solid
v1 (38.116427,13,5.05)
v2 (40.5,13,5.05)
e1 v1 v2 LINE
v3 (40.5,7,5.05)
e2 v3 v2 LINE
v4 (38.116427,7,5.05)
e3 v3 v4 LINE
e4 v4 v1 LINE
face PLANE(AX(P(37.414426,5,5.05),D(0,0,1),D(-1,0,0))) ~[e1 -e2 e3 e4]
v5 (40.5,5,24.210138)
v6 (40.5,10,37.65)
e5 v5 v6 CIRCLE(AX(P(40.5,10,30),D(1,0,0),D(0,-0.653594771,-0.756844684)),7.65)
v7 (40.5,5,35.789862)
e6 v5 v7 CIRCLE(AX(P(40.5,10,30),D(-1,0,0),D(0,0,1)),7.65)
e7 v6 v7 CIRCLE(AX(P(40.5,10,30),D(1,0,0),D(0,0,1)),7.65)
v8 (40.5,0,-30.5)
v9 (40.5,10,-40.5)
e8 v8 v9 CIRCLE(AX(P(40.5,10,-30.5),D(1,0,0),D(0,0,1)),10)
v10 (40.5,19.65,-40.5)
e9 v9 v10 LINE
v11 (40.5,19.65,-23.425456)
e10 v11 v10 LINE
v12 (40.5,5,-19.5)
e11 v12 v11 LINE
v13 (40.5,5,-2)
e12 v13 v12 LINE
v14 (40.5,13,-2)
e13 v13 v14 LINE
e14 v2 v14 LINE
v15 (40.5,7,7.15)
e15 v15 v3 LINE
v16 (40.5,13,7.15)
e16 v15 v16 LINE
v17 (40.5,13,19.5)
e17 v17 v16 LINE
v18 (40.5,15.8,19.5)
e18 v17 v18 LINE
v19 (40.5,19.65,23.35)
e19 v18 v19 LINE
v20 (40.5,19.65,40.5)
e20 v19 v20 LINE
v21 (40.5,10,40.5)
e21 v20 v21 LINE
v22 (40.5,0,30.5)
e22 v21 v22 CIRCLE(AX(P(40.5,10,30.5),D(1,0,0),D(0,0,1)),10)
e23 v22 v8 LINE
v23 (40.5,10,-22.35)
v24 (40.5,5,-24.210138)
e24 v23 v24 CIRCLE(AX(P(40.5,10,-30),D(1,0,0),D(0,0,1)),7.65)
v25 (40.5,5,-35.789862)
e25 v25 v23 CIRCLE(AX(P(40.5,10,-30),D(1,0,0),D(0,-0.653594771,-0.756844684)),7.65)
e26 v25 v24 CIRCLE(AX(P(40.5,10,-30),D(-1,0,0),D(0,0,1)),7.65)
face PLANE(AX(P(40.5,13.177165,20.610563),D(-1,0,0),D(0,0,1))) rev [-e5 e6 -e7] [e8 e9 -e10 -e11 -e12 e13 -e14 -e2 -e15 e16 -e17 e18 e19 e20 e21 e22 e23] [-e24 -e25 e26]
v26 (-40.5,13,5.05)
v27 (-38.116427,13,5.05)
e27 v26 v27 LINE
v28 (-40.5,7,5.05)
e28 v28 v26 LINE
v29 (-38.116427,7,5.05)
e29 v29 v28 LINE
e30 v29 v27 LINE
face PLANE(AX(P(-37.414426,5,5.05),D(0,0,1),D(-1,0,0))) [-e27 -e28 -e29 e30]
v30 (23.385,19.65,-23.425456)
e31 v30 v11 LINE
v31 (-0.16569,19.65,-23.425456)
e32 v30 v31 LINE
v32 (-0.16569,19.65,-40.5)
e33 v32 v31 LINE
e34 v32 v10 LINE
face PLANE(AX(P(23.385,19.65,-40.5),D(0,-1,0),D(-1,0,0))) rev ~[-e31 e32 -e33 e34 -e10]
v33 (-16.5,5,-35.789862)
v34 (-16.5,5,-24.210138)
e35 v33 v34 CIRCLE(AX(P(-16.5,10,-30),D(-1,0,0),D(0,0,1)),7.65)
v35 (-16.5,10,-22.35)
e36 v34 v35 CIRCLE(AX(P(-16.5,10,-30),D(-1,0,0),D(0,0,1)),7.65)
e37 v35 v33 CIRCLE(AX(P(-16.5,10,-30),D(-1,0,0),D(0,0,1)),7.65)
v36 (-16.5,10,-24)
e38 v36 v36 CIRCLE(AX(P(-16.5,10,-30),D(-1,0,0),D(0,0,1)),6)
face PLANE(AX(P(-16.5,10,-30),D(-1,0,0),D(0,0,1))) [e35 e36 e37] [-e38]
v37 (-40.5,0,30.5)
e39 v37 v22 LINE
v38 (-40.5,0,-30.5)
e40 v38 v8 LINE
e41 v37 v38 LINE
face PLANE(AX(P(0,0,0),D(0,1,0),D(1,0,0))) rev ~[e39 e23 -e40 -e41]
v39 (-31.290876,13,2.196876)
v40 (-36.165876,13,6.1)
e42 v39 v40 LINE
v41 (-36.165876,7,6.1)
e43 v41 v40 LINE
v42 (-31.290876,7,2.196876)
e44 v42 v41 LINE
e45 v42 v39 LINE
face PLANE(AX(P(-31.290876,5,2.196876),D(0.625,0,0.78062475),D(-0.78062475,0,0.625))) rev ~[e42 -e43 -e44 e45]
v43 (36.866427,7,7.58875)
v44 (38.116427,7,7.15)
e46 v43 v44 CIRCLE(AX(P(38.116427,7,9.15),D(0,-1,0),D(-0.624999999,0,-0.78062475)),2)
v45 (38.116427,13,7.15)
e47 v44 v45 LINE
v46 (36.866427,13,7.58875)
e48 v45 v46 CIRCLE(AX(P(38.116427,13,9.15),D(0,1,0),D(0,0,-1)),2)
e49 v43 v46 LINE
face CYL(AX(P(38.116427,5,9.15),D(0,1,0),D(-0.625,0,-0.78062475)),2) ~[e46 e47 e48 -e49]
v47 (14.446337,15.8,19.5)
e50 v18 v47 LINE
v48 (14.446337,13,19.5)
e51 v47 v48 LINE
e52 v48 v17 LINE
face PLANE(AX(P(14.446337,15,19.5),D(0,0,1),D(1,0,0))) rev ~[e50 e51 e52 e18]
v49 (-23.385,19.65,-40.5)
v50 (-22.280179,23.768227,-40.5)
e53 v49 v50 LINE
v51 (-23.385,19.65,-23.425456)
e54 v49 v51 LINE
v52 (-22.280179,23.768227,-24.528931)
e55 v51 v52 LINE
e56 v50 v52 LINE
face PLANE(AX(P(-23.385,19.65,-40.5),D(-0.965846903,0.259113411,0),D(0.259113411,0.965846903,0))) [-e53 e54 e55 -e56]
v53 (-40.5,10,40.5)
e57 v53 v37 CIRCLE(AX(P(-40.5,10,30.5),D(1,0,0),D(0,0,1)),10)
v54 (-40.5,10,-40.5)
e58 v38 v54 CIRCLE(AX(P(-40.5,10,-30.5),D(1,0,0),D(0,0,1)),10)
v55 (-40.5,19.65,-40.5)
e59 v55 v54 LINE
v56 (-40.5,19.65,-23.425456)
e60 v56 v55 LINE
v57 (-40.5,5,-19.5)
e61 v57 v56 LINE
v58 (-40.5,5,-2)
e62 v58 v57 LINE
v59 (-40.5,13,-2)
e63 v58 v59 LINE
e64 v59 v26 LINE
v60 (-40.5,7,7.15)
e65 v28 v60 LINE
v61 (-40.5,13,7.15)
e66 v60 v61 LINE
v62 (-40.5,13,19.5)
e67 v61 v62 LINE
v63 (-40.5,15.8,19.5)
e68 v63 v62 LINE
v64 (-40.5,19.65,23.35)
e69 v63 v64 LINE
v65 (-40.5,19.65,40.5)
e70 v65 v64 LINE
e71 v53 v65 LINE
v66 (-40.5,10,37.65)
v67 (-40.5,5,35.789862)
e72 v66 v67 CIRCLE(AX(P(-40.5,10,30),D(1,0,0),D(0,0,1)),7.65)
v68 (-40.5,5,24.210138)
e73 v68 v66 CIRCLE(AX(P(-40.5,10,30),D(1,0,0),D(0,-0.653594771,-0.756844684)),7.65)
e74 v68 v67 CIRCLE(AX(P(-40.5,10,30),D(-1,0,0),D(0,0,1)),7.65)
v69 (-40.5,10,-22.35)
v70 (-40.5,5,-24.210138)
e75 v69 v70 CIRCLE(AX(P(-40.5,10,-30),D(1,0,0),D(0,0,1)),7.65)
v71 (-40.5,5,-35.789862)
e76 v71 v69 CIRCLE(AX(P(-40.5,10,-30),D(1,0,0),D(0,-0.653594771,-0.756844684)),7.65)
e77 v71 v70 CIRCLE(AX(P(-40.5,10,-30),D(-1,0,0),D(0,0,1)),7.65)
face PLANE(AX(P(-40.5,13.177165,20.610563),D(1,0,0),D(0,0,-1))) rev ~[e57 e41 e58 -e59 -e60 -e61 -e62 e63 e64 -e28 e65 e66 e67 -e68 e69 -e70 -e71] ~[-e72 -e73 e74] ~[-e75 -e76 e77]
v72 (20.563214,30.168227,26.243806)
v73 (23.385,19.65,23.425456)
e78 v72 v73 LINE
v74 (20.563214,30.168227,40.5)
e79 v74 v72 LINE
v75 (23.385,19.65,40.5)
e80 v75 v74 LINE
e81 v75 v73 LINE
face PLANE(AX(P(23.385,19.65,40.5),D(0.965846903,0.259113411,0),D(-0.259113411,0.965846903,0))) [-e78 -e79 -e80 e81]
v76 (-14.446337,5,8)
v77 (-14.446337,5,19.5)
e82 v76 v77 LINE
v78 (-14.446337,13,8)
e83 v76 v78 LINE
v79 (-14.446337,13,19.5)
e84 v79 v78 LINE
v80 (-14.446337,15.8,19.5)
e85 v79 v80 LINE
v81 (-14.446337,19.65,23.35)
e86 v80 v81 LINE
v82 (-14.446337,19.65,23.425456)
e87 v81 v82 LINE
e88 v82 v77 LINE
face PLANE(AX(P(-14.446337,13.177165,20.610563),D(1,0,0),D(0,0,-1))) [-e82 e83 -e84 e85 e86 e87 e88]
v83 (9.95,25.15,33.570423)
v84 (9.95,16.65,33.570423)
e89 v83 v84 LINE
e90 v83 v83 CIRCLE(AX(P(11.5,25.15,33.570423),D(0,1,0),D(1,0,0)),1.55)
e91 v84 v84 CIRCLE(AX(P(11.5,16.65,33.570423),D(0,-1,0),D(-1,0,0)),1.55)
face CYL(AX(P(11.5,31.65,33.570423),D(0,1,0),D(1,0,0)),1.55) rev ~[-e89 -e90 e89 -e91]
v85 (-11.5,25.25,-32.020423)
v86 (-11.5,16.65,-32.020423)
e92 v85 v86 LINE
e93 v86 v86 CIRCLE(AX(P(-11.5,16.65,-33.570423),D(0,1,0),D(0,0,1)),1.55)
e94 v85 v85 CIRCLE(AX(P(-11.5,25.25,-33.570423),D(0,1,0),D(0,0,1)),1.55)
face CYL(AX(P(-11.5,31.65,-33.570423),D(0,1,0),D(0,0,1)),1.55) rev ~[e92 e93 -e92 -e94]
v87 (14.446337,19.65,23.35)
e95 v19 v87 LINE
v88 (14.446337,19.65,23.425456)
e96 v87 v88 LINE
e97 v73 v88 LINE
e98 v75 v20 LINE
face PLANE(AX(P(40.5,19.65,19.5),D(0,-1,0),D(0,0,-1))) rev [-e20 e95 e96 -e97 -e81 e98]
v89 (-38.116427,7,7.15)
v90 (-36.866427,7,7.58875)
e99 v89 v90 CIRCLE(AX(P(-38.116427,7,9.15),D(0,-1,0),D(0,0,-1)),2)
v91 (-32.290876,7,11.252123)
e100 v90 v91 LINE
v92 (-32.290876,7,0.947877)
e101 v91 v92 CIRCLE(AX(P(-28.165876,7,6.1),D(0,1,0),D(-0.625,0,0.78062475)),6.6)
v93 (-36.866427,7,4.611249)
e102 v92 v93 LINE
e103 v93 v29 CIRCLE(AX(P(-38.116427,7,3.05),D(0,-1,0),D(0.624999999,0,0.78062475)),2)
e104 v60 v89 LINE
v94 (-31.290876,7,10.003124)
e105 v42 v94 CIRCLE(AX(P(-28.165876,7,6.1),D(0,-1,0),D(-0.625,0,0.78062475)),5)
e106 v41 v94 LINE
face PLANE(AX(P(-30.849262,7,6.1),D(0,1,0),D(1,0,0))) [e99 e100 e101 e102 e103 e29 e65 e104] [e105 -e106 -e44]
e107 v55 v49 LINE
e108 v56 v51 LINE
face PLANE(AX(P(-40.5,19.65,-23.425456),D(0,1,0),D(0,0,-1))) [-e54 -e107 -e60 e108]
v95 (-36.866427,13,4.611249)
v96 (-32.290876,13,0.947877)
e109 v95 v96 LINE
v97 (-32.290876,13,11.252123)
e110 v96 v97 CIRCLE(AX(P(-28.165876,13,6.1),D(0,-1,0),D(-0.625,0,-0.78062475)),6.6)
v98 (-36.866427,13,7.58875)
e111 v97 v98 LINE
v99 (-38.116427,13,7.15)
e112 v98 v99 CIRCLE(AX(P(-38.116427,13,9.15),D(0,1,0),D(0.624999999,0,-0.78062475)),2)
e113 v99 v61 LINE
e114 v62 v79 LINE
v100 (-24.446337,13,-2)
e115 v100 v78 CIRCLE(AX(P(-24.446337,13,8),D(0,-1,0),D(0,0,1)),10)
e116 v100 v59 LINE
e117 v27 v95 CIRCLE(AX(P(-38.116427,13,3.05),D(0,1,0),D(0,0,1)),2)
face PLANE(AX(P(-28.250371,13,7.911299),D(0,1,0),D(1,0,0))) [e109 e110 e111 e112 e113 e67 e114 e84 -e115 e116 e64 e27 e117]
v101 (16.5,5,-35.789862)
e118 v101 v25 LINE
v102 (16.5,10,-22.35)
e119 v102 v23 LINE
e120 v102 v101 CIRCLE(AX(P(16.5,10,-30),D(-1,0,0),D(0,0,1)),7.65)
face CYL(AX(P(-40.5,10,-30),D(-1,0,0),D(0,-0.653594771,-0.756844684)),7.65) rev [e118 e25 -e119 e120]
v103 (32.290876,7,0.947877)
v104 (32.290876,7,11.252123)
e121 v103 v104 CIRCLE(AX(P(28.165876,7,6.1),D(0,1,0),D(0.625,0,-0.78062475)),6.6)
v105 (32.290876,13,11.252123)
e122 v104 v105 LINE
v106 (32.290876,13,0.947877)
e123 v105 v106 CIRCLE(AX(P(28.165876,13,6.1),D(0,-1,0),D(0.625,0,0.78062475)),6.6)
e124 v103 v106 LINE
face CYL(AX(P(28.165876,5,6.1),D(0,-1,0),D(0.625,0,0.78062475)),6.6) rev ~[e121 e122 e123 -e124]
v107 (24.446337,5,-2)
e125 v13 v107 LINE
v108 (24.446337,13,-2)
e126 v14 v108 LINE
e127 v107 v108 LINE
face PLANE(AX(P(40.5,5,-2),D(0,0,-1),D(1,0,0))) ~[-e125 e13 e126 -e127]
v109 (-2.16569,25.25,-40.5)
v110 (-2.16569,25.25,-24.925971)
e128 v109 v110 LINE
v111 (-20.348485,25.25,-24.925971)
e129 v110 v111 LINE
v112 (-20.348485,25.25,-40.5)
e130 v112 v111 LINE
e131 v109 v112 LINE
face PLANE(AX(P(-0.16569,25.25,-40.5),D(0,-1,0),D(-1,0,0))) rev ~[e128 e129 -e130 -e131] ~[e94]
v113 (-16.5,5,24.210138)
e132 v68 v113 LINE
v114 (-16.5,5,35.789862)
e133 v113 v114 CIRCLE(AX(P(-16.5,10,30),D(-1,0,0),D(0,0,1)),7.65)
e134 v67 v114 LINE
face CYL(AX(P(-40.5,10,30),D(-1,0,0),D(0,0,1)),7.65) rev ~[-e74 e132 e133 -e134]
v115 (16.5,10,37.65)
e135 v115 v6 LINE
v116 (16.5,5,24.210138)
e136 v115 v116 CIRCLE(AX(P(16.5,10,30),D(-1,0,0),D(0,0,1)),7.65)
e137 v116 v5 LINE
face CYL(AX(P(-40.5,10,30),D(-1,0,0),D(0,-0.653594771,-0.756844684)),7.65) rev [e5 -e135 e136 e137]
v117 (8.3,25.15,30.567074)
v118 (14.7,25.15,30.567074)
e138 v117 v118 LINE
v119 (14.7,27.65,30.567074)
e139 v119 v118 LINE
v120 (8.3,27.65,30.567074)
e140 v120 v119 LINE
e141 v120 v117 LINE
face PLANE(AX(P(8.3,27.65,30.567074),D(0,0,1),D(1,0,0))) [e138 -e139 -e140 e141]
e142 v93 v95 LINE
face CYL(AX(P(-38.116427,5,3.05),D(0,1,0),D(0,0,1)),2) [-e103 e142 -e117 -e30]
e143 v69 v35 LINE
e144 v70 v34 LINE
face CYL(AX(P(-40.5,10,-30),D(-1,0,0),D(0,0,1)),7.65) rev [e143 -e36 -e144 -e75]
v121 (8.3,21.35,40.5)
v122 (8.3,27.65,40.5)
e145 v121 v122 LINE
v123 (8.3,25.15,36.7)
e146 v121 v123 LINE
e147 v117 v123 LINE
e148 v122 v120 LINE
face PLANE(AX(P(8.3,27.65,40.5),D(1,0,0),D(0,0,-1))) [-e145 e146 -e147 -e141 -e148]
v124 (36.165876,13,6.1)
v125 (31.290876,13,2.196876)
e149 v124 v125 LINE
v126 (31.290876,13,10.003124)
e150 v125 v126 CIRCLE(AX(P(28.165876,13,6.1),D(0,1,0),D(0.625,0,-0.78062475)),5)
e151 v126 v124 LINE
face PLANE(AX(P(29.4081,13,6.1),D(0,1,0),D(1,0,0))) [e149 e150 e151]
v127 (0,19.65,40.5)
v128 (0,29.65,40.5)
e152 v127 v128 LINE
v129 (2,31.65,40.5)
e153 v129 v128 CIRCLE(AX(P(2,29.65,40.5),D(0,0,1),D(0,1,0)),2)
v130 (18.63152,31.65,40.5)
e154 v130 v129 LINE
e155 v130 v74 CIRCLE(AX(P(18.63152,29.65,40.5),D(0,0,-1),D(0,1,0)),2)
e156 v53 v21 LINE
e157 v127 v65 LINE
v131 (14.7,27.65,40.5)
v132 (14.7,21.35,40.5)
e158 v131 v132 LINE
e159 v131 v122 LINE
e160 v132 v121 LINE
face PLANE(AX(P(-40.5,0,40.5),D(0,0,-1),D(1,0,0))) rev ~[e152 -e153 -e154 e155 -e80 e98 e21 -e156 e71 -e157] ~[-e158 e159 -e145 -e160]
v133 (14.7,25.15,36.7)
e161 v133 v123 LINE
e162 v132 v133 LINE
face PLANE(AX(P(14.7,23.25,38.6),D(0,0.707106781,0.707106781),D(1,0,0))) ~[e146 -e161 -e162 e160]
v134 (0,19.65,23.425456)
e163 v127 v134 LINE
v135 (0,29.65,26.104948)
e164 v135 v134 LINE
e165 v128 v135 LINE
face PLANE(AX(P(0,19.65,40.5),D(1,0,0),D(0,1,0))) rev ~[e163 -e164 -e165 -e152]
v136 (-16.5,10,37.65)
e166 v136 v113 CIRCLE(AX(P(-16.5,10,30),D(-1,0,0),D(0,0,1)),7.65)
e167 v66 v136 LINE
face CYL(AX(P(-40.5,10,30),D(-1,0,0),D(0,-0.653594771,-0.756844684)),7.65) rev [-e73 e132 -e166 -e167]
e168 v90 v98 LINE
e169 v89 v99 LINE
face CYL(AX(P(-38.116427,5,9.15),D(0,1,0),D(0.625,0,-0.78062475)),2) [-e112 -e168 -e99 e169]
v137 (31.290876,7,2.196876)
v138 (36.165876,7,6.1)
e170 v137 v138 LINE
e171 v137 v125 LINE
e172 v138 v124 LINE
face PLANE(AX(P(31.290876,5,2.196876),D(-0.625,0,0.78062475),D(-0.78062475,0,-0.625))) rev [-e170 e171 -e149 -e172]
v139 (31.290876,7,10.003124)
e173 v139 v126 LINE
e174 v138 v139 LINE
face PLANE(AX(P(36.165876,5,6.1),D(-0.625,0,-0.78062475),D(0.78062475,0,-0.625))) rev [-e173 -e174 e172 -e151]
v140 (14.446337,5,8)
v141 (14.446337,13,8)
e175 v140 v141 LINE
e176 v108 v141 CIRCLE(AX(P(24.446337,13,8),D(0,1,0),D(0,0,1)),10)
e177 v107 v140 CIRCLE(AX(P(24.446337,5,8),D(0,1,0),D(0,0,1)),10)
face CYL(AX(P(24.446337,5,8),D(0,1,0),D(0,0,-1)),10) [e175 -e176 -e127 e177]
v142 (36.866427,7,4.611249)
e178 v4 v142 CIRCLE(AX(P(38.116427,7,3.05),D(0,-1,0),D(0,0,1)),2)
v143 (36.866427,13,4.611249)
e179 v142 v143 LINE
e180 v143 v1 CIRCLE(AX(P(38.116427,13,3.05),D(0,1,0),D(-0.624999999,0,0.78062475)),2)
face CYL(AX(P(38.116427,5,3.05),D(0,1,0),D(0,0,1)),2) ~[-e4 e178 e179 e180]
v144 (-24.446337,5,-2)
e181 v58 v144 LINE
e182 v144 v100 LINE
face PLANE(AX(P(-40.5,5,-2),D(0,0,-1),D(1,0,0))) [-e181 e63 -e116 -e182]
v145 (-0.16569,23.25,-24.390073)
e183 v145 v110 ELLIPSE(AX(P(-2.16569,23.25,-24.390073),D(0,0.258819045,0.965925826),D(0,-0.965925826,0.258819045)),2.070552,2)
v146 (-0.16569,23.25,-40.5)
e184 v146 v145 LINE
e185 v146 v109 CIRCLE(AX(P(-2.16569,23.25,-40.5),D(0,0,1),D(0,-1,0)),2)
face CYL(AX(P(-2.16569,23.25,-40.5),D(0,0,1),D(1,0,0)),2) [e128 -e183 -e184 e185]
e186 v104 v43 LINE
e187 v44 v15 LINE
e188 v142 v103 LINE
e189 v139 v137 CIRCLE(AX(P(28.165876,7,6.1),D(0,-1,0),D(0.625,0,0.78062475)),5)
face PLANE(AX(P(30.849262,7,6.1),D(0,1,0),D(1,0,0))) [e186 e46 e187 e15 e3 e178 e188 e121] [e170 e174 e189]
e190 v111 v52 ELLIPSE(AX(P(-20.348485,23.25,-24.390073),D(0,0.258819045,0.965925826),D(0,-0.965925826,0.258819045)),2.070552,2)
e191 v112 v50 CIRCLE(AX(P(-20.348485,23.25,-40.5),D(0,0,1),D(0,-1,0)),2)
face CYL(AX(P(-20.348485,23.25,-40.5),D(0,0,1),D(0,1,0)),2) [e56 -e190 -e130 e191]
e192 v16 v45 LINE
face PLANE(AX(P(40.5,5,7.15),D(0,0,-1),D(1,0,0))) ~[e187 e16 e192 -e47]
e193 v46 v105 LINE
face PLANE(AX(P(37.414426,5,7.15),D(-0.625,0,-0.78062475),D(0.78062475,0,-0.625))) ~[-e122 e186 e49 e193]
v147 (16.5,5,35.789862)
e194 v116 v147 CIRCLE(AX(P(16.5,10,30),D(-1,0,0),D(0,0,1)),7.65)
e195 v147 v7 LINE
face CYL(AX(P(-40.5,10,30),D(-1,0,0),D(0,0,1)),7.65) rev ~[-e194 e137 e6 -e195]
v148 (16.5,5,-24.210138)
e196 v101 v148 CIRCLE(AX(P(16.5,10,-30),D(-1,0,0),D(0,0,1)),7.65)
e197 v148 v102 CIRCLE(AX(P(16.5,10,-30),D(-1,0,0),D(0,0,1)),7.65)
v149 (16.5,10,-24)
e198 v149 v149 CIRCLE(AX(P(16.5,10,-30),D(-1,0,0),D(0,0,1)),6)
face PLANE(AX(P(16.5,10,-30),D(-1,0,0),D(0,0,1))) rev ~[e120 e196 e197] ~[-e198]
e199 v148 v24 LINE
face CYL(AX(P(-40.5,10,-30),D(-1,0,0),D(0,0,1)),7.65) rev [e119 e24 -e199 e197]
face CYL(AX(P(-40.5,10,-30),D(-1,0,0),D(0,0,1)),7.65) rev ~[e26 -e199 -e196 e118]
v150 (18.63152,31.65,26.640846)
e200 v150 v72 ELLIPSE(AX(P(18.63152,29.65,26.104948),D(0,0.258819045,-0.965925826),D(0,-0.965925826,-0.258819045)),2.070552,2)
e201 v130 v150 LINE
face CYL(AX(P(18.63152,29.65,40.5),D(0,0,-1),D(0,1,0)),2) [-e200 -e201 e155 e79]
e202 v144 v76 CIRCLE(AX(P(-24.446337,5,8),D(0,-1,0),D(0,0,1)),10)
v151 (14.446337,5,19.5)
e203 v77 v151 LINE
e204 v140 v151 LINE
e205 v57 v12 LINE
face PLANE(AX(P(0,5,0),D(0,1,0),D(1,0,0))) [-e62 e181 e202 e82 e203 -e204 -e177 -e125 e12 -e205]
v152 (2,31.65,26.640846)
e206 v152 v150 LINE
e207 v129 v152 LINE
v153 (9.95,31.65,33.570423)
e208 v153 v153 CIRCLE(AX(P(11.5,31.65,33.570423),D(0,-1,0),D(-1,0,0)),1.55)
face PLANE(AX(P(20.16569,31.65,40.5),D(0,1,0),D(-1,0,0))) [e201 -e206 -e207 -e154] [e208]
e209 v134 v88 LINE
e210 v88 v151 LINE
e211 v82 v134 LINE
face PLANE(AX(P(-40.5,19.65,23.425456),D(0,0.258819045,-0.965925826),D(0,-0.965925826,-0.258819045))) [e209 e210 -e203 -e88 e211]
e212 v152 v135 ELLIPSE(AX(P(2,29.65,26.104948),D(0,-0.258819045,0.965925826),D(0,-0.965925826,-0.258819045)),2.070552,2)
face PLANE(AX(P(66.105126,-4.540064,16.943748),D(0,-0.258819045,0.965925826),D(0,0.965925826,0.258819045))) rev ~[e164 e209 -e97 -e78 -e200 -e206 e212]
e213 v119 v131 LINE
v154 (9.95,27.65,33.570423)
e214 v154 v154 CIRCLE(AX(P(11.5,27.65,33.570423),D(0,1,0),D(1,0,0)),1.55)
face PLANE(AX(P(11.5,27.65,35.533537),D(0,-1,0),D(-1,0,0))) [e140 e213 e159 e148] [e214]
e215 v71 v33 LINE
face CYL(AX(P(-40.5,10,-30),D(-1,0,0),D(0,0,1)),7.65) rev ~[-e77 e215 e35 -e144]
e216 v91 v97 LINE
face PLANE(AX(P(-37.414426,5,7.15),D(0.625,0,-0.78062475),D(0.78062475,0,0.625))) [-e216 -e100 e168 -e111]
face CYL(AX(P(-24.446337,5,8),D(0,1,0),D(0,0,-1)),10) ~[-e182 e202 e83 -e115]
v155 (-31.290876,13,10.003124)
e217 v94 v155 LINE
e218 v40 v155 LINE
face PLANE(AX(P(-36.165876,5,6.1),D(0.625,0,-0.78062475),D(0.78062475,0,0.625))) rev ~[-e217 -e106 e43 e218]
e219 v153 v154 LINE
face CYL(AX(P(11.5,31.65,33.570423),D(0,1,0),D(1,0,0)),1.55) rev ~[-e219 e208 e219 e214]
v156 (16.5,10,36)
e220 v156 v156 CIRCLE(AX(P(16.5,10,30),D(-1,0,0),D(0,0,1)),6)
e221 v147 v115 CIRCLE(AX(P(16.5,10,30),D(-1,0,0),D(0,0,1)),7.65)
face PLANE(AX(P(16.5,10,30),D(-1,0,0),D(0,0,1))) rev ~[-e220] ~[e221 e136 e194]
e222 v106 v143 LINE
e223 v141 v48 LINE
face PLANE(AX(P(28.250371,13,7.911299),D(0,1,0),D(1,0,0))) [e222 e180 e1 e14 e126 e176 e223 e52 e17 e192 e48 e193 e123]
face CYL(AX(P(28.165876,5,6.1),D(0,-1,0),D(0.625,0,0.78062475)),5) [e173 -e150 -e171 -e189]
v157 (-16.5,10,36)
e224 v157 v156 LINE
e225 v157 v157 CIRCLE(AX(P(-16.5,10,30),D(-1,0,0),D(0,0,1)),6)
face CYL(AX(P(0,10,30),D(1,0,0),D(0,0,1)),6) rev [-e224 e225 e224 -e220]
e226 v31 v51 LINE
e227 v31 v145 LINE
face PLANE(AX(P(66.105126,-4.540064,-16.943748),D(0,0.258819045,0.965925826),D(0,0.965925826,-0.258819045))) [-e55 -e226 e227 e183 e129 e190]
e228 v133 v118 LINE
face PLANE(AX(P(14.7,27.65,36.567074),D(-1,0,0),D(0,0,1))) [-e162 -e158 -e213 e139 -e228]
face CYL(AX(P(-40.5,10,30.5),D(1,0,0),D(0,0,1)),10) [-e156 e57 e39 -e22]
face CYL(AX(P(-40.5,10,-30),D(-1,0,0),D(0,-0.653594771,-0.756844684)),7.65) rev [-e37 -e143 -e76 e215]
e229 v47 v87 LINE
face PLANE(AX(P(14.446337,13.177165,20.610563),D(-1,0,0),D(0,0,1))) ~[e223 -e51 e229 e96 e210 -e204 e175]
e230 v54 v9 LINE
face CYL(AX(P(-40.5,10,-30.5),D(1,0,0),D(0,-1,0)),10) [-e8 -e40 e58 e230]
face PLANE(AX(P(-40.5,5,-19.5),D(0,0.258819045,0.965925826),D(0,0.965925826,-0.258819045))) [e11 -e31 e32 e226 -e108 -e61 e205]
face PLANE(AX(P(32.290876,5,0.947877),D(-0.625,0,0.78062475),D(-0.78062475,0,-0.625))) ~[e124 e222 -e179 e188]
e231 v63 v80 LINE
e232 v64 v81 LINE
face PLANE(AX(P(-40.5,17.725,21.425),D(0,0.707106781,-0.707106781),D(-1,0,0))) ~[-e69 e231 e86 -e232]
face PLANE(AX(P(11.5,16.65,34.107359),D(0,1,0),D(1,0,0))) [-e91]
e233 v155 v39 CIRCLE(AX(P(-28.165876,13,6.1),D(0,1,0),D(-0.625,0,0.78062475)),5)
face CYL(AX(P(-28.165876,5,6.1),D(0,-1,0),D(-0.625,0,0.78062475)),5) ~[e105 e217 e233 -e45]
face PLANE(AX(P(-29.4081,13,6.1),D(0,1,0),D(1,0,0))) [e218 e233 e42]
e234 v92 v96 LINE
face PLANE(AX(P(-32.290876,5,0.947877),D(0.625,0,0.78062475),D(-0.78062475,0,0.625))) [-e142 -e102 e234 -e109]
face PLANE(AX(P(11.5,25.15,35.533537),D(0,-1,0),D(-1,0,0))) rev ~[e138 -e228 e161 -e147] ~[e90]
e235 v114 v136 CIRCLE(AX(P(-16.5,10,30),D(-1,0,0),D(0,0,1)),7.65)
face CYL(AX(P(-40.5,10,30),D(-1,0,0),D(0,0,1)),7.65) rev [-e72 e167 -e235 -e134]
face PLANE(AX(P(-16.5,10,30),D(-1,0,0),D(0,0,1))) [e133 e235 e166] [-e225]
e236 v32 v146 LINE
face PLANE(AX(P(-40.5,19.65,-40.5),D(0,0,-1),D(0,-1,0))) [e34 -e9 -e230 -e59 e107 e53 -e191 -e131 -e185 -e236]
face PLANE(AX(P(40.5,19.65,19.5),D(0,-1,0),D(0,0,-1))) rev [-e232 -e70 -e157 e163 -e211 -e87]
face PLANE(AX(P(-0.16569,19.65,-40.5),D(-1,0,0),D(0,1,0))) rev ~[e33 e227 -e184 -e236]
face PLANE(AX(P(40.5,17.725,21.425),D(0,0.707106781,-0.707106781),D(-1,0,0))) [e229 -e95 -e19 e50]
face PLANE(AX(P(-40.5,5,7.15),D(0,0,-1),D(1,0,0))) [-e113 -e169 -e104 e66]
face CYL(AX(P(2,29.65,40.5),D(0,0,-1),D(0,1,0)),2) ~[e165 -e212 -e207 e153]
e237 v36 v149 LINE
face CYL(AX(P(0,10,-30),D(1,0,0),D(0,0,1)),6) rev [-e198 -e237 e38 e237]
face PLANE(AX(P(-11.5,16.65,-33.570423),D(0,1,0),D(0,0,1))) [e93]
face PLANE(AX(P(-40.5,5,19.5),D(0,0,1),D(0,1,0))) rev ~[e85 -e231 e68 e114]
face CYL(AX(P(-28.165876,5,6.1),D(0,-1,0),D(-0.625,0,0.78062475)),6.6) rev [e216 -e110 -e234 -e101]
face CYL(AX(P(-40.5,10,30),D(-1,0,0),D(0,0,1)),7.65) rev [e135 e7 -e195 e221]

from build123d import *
from build123d.topology import SkipClean

# Parameters (mm, degrees)
SKETCH1_W                = 81
SKETCH1_H                = 81
BOSS_EXTRUDE1_DEPTH      = 5
BOSS_EXTRUDE3_DEPTH      = 81
SKETCH4_R                = 7.65
CUT_EXTRUDE2_DEPTH       = 93.668077028
BOSS_EXTRUDE4_DEPTH      = 10
BOSS_EXTRUDE6_DEPTH      = 26.053662708
CHAMFER1_SIZE            = 3.85
CHAMFER1_OF_MIRROR1_SIZE = 3.85
FILLET2_R                = 2
FILLET3_R                = 10
SKETCH8_R                = 7.65
SKETCH8_R_2              = 6
BOSS_EXTRUDE7_DEPTH      = 16.5
BOSS_EXTRUDE8_REACH      = 94.668
BOSS_EXTRUDE9_REACH      = 97.932
SKETCH11_R               = 1.55
CUT_EXTRUDE3_DEPTH       = 15
CUT_EXTRUDE4_DEPTH       = 2
BOSS_EXTRUDE10_START     = 2
BOSS_EXTRUDE10_DEPTH     = 2
FILLET4_R                = 10
CUT_EXTRUDE5_REACH       = 97.932
FILLET5_R                = 2
FILLET6_R                = 2
FILLET7_R                = 2
CUT_EXTRUDE6_DEPTH       = 2.5
CHAMFER2_SIZE            = 3.8
CUT_EXTRUDE7_REACH       = 97.932
SKETCH17_W               = 23.385
SKETCH17_H               = 12
CUT_EXTRUDE8_REACH       = 97.932
SKETCH19_W               = 23.550689655
SKETCH19_H               = 12
FILLET8_R                = 2


with BuildPart() as part:
    # Sketch1 → Boss-Extrude1 (new body)
    with BuildSketch(Plane(origin=(0, 0, 0), x_dir=(1, 0, 0), z_dir=(0, 1, 0))):
        Rectangle(SKETCH1_W, SKETCH1_H)
    extrude(amount=BOSS_EXTRUDE1_DEPTH)

    # Sketch2 → Boss-Extrude3 (add)
    with BuildSketch(Plane.ZY.offset(40.5)):
        with BuildLine():
            Line((-24.210138171, 5), (-19.5, 5))
            Line((-19.5, 5), (-23.425455669, 19.65))
            Line((-23.425455669, 19.65), (-40.5, 19.65))
            Line((-40.5, 19.65), (-40.5, 5))
            Line((-40.5, 5), (-35.789861829, 5))
            ThreePointArc((-35.789861829, 5), (-32.667401077, 17.169900383), (-22.35, 10))
            ThreePointArc((-22.35, 10), (-22.830099617, 7.332598923), (-24.210138171, 5))
        make_face()
        with BuildLine():
            Line((23.425455669, 19.65), (19.5, 5))
            Line((19.5, 5), (24.210138171, 5))
            ThreePointArc((24.210138171, 5), (27.332598923, 17.169900383), (37.65, 10))
            ThreePointArc((37.65, 10), (37.169900383, 7.332598923), (35.789861829, 5))
            Line((35.789861829, 5), (40.5, 5))
            Line((40.5, 5), (40.5, 19.65))
            Line((40.5, 19.65), (23.425455669, 19.65))
        make_face()
    extrude(amount=-BOSS_EXTRUDE3_DEPTH)

    # Sketch4 → Cut-Extrude2 (cut, through all)
    with SkipClean():  # the faces are left unmerged after this step: merging them gives an invalid solid
        with BuildSketch(Plane.ZY.offset(40.5)):
            with Locations((-30, 10)):
                Circle(SKETCH4_R)
            with Locations((30, 10)):
                Circle(SKETCH4_R)
        extrude(amount=-CUT_EXTRUDE2_DEPTH, mode=Mode.SUBTRACT)

    # Sketch6 → Boss-Extrude4 (add)
    with SkipClean():  # the faces are left unmerged after this step: merging them gives an invalid solid
        with BuildSketch(Plane(origin=(0, 5, 0), x_dir=(1, 0, 0), z_dir=(0, 1, 0))):
            with BuildLine():
                Line((-32.290875523, -0.947876651), (-37.414425943, -5.05))
                Line((-37.414425943, -5.05), (-40.5, -5.05))
                Line((-40.5, -5.05), (-40.5, 2))
                Line((-40.5, 2), (-14.446337292, 2))
                Line((-14.446337292, 2), (-14.446337292, -19.5))
                Line((-14.446337292, -19.5), (-40.5, -19.5))
                Line((-40.5, -19.5), (-40.5, -7.15))
                Line((-40.5, -7.15), (-37.414425943, -7.15))
                Line((-37.414425943, -7.15), (-32.290875523, -11.252123349))
                ThreePointArc((-32.290875523, -11.252123349), (-21.565875523, -6.1), (-32.290875523, -0.947876651))
            make_face()
            with BuildLine():
                Line((-31.290875523, -2.196876251), (-36.165875523, -6.1))
                Line((-36.165875523, -6.1), (-31.290875523, -10.003123749))
                ThreePointArc((-31.290875523, -10.003123749), (-23.165875523, -6.1), (-31.290875523, -2.196876251))
            make_face()
        boss_extrude4 = extrude(amount=BOSS_EXTRUDE4_DEPTH)

    # Sketch7 → Boss-Extrude6 (add)
    with SkipClean():  # the faces are left unmerged after this step: merging them gives an invalid solid
        with BuildSketch(Plane.ZY.offset(40.5)):
            Polygon((19.5, 5), (19.5, 19.65), (23.425455669, 19.65), align=None)
        boss_extrude6 = extrude(amount=-BOSS_EXTRUDE6_DEPTH)

    # Chamfer1
    chamfer1_edges = [part.edges().sort_by_distance(p)[0] for p in [
        (-27.473168646, 19.65, 19.5),
    ]]
    chamfer(chamfer1_edges, length=CHAMFER1_SIZE)

    # Mirror1: Boss-Extrude4, Boss-Extrude6 across plane
    with SkipClean():  # the faces are left unmerged after this step: merging them gives an invalid solid
        add(boss_extrude4.mirror(Plane.ZY))
        add(boss_extrude6.mirror(Plane.ZY))

    # Chamfer1 of Mirror1
    chamfer1_of_mirror1_edges = [part.edges().sort_by_distance(p)[0] for p in [
        (27.473168646, 19.65, 19.5),
    ]]
    chamfer(chamfer1_of_mirror1_edges, length=CHAMFER1_OF_MIRROR1_SIZE)

    # Fillet2
    fillet2_edges = [part.edges().sort_by_distance(p)[0] for p in [
        (37.414425943, 10, 7.15),
        (37.414425943, 10, 5.05),
        (-37.414425943, 10, 7.15),
        (-37.414425943, 10, 5.05),
    ]]
    fillet(fillet2_edges, radius=FILLET2_R)

    # Fillet3
    fillet3_edges = [part.edges().sort_by_distance(p)[0] for p in [
        (0, 0, 40.5),
        (0, 0, -40.5),
    ]]
    fillet(fillet3_edges, radius=FILLET3_R)

    # Sketch8 → Boss-Extrude7 (add, symmetric)
    # profile 1 of 2: a face of its own
    with SkipClean():  # the faces are left unmerged after this step: merging them gives an invalid solid
        with BuildSketch(Plane.ZY):
            with Locations((30, 10)):
                Circle(SKETCH8_R)
            with Locations((30, 10)):
                Circle(SKETCH8_R_2, mode=Mode.SUBTRACT)
        # profile 2 of 2: a face of its own
        with BuildSketch(Plane.ZY):
            with Locations((-30, 10)):
                Circle(SKETCH8_R)
            with Locations((-30, 10)):
                Circle(SKETCH8_R_2, mode=Mode.SUBTRACT)
        extrude(amount=BOSS_EXTRUDE7_DEPTH, both=True)

    # Boss-Extrude8: up to this plane
    with SkipClean():  # the faces are left unmerged after this step: merging them gives an invalid solid
        boss_extrude8_end = Plane(origin=(66.10512644, -4.540063509, 16.943747687), z_dir=(0, -0.25881904510252485, 0.9659258262890673))
        # Sketch9 → Boss-Extrude8 (add, up to the surface)
        with BuildSketch(Plane.XY.offset(40.5), mode=Mode.PRIVATE) as boss_extrude8_sk1:
            Polygon((-20.165689655, 31.65), (-23.385, 19.65), (23.385, 19.65), (20.165689655, 31.65), align=None)
        boss_extrude8_tool1 = split(extrude(boss_extrude8_sk1.sketch, amount=-BOSS_EXTRUDE8_REACH, mode=Mode.PRIVATE), bisect_by=boss_extrude8_end, keep=Keep.BOTH, mode=Mode.PRIVATE)
        add(boss_extrude8_tool1.solids().sort_by_distance((0, 25.502158, 40.5))[0])

    # Boss-Extrude9: up to this plane
    with SkipClean():  # the faces are left unmerged after this step: merging them gives an invalid solid
        boss_extrude9_end = Plane(origin=(66.10512644, -4.540063509, -16.943747687), z_dir=(0, 0.25881904510252485, 0.9659258262890673))
        # Sketch10 → Boss-Extrude9 (add, up to the surface)
        with BuildSketch(Plane(origin=(0, 0, -40.5), x_dir=(-1, 0, 0), z_dir=(0, 0, -1)), mode=Mode.PRIVATE) as boss_extrude9_sk1:
            Polygon((23.385, 19.65), (20.165689655, 31.65), (-20.165689655, 31.65), (-23.385, 19.65), align=None)
        boss_extrude9_tool1 = split(extrude(boss_extrude9_sk1.sketch, amount=-BOSS_EXTRUDE9_REACH, mode=Mode.PRIVATE), bisect_by=boss_extrude9_end, keep=Keep.BOTH, mode=Mode.PRIVATE)
        add(boss_extrude9_tool1.solids().sort_by_distance((0, 25.502158, -40.5))[0])

    # Sketch11 → Cut-Extrude3 (cut)
    with SkipClean():  # the faces are left unmerged after this step: merging them gives an invalid solid
        with BuildSketch(Plane(origin=(0, 31.65, 0), x_dir=(1, 0, 0), z_dir=(0, 1, 0))):
            with Locations(Location((-11.5, 33.570422989, 0), (0, 0, 270))):
                Circle(SKETCH11_R)
            with BuildLine():
                ThreePointArc((13.05, -33.570422989), (11.5, -32.020422989), (9.95, -33.570422989))
                Line((9.95, -33.570422989), (13.05, -33.570422989))
            make_face()
            with BuildLine():
                Line((13.05, -33.570422989), (9.95, -33.570422989))
                ThreePointArc((9.95, -33.570422989), (11.5, -35.120422989), (13.05, -33.570422989))
            make_face()
        extrude(amount=-CUT_EXTRUDE3_DEPTH, mode=Mode.SUBTRACT)

    # Sketch12 → Cut-Extrude4 (cut)
    with SkipClean():  # the faces are left unmerged after this step: merging them gives an invalid solid
        with BuildSketch(Plane(origin=(0, 15, 0), x_dir=(1, 0, 0), z_dir=(0, 1, 0))):
            with BuildLine():
                Line((31.290875523, -10.003123749), (36.165875523, -6.1))
                Line((36.165875523, -6.1), (31.290875523, -2.196876251))
                ThreePointArc((31.290875523, -2.196876251), (23.165875523, -6.1), (31.290875523, -10.003123749))
            make_face()
            with BuildLine():
                Line((-36.165875523, -6.1), (-31.290875523, -10.003123749))
                ThreePointArc((-31.290875523, -10.003123749), (-23.165875523, -6.1), (-31.290875523, -2.196876251))
                Line((-31.290875523, -2.196876251), (-36.165875523, -6.1))
            make_face()
            with BuildLine():
                Line((32.290875523, -0.947876651), (36.866426744, -4.6112495))
                ThreePointArc((36.866426744, -4.6112495), (37.454044301, -4.937127314), (38.116426744, -5.05))
                Line((38.116426744, -5.05), (40.5, -5.05))
                Line((40.5, -5.05), (40.5, 2))
                Line((40.5, 2), (14.446337292, 2))
                Line((14.446337292, 2), (14.446337292, -19.5))
                Line((14.446337292, -19.5), (40.5, -19.5))
                Line((40.5, -19.5), (40.5, -7.15))
                Line((40.5, -7.15), (38.116426744, -7.15))
                ThreePointArc((38.116426744, -7.15), (37.454044301, -7.262872686), (36.866426744, -7.5887505))
                Line((36.866426744, -7.5887505), (32.290875523, -11.252123349))
                ThreePointArc((32.290875523, -11.252123349), (21.565875523, -6.1), (32.290875523, -0.947876651))
            make_face()
            with BuildLine():
                Line((-32.290875523, -11.252123349), (-36.866426744, -7.5887505))
                ThreePointArc((-36.866426744, -7.5887505), (-37.454044301, -7.262872686), (-38.116426744, -7.15))
                Line((-38.116426744, -7.15), (-40.5, -7.15))
                Line((-40.5, -7.15), (-40.5, -19.5))
                Line((-40.5, -19.5), (-14.446337292, -19.5))
                Line((-14.446337292, -19.5), (-14.446337292, 2))
                Line((-14.446337292, 2), (-40.5, 2))
                Line((-40.5, 2), (-40.5, -5.05))
                Line((-40.5, -5.05), (-38.116426744, -5.05))
                ThreePointArc((-38.116426744, -5.05), (-37.454044301, -4.937127314), (-36.866426744, -4.6112495))
                Line((-36.866426744, -4.6112495), (-32.290875523, -0.947876651))
                ThreePointArc((-32.290875523, -0.947876651), (-21.565875523, -6.1), (-32.290875523, -11.252123349))
            make_face()
        extrude(amount=-CUT_EXTRUDE4_DEPTH, mode=Mode.SUBTRACT)

    # Sketch13 → Boss-Extrude10 (add)
    with SkipClean():  # the faces are left unmerged after this step: merging them gives an invalid solid
        with BuildSketch(Plane(origin=(0, 5, 0), x_dir=(1, 0, 0), z_dir=(0, 1, 0)).offset(BOSS_EXTRUDE10_START)):
            with BuildLine():
                Line((32.290875523, -11.252123349), (36.866426744, -7.5887505))
                ThreePointArc((36.866426744, -7.5887505), (37.454044301, -7.262872686), (38.116426744, -7.15))
                Line((38.116426744, -7.15), (40.5, -7.15))
                Line((40.5, -7.15), (40.5, -5.05))
                Line((40.5, -5.05), (38.116426744, -5.05))
                ThreePointArc((38.116426744, -5.05), (37.454044301, -4.937127314), (36.866426744, -4.6112495))
                Line((36.866426744, -4.6112495), (32.290875523, -0.947876651))
                ThreePointArc((32.290875523, -0.947876651), (21.565875523, -6.1), (32.290875523, -11.252123349))
            make_face()
            with BuildLine():
                Line((-40.5, -7.15), (-38.116426744, -7.15))
                ThreePointArc((-38.116426744, -7.15), (-37.454044301, -7.262872686), (-36.866426744, -7.5887505))
                Line((-36.866426744, -7.5887505), (-32.290875523, -11.252123349))
                ThreePointArc((-32.290875523, -11.252123349), (-21.565875523, -6.1), (-32.290875523, -0.947876651))
                Line((-32.290875523, -0.947876651), (-36.866426744, -4.6112495))
                ThreePointArc((-36.866426744, -4.6112495), (-37.454044301, -4.937127314), (-38.116426744, -5.05))
                Line((-38.116426744, -5.05), (-40.5, -5.05))
                Line((-40.5, -5.05), (-40.5, -7.15))
            make_face()
        extrude(amount=-BOSS_EXTRUDE10_DEPTH)

    # Fillet4
    fillet4_edges = [part.edges().sort_by_distance(p)[0] for p in [
        (14.446337292, 9, -2),
        (-14.446337292, 9, -2),
    ]]
    fillet(fillet4_edges, radius=FILLET4_R)

    # Cut-Extrude5: up to this plane
    with SkipClean():  # the faces are left unmerged after this step: merging them gives an invalid solid
        cut_extrude5_end = Plane(origin=(66.10512644, -4.540063509, -16.943747687), z_dir=(0, 0.25881904510252485, 0.9659258262890673))
        # Sketch15 → Cut-Extrude5 (cut, up to the surface)
        with BuildSketch(Plane(origin=(0, 0, -40.5), x_dir=(-1, 0, 0), z_dir=(0, 0, -1)), mode=Mode.PRIVATE) as cut_extrude5_sk1:
            Polygon((20.165689655, 31.65), (0.165689655, 31.65), (0.165689655, 25.25), (21.882655172, 25.25), align=None)
        cut_extrude5_tool1 = split(extrude(cut_extrude5_sk1.sketch, amount=-CUT_EXTRUDE5_REACH, mode=Mode.PRIVATE), bisect_by=cut_extrude5_end, keep=Keep.BOTH, mode=Mode.PRIVATE)
        add(cut_extrude5_tool1.solids().sort_by_distance((-10.60082, 28.406099, -40.5))[0], mode=Mode.SUBTRACT)

    # Fillet5
    fillet5_edges = [part.edges().sort_by_distance(p)[0] for p in [
        (-0.165689655, 31.65, -33.570422989),
    ]]
    fillet(fillet5_edges, radius=FILLET5_R)

    # Fillet6
    fillet6_edges = [part.edges().sort_by_distance(p)[0] for p in [
        (20.165689655, 31.65, 33.570422989),
        (-20.165689655, 31.65, 33.570422989),
        (20.165689655, 31.65, -33.570422989),
    ]]
    fillet(fillet6_edges, radius=FILLET6_R)

    # Fillet7
    fillet7_edges = [part.edges().sort_by_distance(p)[0] for p in [
        (-21.882655172, 25.25, -32.712985573),
    ]]
    fillet(fillet7_edges, radius=FILLET7_R)

    # Sketch16 → Cut-Extrude6 (cut)
    with SkipClean():  # the faces are left unmerged after this step: merging them gives an invalid solid
        with BuildSketch(Plane(origin=(0, 27.65, 0), x_dir=(1, 0, 0), z_dir=(0, 1, 0))):
            Polygon((-14.7, -30.567073624), (-8.3, -30.567073624), (-8.3, -36.567073624), (-8.3, -40.5), (-14.7, -40.5), (-14.7, -36.567073624), align=None)
            Polygon((14.7, -36.567073624), (14.7, -40.5), (8.3, -40.5), (8.3, -36.567073624), (8.3, -30.567073624), (14.7, -30.567073624), align=None)
            Polygon((14.7, 40.5), (8.3, 40.5), (8.3, 36.567073624), (8.3, 30.567073624), (14.7, 30.567073624), (14.7, 36.567073624), align=None)
        extrude(amount=-CUT_EXTRUDE6_DEPTH, mode=Mode.SUBTRACT)

    # Chamfer2
    chamfer2_edges = [part.edges().sort_by_distance(p)[0] for p in [
        (-11.5, 25.15, 40.5),
        (11.5, 25.15, 40.5),
        (11.5, 25.15, -40.5),
    ]]
    chamfer(chamfer2_edges, length=CHAMFER2_SIZE)

    # Cut-Extrude7: up to this plane
    with SkipClean():  # the faces are left unmerged after this step: merging them gives an invalid solid
        cut_extrude7_end = Plane(origin=(66.10512644, -4.540063509, 16.943747687), z_dir=(0, -0.25881904510252485, 0.9659258262890673))
        # Sketch17 → Cut-Extrude7 (cut, up to the surface)
        with BuildSketch(Plane.XY.offset(40.5), mode=Mode.PRIVATE) as cut_extrude7_sk1:
            with Locations((-11.6925, 25.65)):
                Rectangle(SKETCH17_W, SKETCH17_H)
        cut_extrude7_tool1 = split(extrude(cut_extrude7_sk1.sketch, amount=-CUT_EXTRUDE7_REACH, mode=Mode.PRIVATE), bisect_by=cut_extrude7_end, keep=Keep.BOTH, mode=Mode.PRIVATE)
        add(cut_extrude7_tool1.solids().sort_by_distance((-11.6925, 25.65, 40.5))[0], mode=Mode.SUBTRACT)

    # Cut-Extrude8: up to this plane
    with SkipClean():  # the faces are left unmerged after this step: merging them gives an invalid solid
        cut_extrude8_end = Plane(origin=(66.10512644, -4.540063509, -16.943747687), z_dir=(0, 0.25881904510252485, 0.9659258262890673))
        # Sketch19 → Cut-Extrude8 (cut, up to the surface)
        with BuildSketch(Plane(origin=(0, 0, -40.5), x_dir=(-1, 0, 0), z_dir=(0, 0, -1)), mode=Mode.PRIVATE) as cut_extrude8_sk1:
            with Locations((-11.609655173, 25.65)):
                Rectangle(SKETCH19_W, SKETCH19_H)
        cut_extrude8_tool1 = split(extrude(cut_extrude8_sk1.sketch, amount=-CUT_EXTRUDE8_REACH, mode=Mode.PRIVATE), bisect_by=cut_extrude8_end, keep=Keep.BOTH, mode=Mode.PRIVATE)
        add(cut_extrude8_tool1.solids().sort_by_distance((11.609655, 25.65, -40.5))[0], mode=Mode.SUBTRACT)

    # Fillet8
    fillet8_edges = [part.edges().sort_by_distance(p)[0] for p in [
        (-0.165689655, 25.25, -32.712985573),
        (0, 31.65, 33.570422989),
    ]]
    fillet(fillet8_edges, radius=FILLET8_R)


solid = part.part
